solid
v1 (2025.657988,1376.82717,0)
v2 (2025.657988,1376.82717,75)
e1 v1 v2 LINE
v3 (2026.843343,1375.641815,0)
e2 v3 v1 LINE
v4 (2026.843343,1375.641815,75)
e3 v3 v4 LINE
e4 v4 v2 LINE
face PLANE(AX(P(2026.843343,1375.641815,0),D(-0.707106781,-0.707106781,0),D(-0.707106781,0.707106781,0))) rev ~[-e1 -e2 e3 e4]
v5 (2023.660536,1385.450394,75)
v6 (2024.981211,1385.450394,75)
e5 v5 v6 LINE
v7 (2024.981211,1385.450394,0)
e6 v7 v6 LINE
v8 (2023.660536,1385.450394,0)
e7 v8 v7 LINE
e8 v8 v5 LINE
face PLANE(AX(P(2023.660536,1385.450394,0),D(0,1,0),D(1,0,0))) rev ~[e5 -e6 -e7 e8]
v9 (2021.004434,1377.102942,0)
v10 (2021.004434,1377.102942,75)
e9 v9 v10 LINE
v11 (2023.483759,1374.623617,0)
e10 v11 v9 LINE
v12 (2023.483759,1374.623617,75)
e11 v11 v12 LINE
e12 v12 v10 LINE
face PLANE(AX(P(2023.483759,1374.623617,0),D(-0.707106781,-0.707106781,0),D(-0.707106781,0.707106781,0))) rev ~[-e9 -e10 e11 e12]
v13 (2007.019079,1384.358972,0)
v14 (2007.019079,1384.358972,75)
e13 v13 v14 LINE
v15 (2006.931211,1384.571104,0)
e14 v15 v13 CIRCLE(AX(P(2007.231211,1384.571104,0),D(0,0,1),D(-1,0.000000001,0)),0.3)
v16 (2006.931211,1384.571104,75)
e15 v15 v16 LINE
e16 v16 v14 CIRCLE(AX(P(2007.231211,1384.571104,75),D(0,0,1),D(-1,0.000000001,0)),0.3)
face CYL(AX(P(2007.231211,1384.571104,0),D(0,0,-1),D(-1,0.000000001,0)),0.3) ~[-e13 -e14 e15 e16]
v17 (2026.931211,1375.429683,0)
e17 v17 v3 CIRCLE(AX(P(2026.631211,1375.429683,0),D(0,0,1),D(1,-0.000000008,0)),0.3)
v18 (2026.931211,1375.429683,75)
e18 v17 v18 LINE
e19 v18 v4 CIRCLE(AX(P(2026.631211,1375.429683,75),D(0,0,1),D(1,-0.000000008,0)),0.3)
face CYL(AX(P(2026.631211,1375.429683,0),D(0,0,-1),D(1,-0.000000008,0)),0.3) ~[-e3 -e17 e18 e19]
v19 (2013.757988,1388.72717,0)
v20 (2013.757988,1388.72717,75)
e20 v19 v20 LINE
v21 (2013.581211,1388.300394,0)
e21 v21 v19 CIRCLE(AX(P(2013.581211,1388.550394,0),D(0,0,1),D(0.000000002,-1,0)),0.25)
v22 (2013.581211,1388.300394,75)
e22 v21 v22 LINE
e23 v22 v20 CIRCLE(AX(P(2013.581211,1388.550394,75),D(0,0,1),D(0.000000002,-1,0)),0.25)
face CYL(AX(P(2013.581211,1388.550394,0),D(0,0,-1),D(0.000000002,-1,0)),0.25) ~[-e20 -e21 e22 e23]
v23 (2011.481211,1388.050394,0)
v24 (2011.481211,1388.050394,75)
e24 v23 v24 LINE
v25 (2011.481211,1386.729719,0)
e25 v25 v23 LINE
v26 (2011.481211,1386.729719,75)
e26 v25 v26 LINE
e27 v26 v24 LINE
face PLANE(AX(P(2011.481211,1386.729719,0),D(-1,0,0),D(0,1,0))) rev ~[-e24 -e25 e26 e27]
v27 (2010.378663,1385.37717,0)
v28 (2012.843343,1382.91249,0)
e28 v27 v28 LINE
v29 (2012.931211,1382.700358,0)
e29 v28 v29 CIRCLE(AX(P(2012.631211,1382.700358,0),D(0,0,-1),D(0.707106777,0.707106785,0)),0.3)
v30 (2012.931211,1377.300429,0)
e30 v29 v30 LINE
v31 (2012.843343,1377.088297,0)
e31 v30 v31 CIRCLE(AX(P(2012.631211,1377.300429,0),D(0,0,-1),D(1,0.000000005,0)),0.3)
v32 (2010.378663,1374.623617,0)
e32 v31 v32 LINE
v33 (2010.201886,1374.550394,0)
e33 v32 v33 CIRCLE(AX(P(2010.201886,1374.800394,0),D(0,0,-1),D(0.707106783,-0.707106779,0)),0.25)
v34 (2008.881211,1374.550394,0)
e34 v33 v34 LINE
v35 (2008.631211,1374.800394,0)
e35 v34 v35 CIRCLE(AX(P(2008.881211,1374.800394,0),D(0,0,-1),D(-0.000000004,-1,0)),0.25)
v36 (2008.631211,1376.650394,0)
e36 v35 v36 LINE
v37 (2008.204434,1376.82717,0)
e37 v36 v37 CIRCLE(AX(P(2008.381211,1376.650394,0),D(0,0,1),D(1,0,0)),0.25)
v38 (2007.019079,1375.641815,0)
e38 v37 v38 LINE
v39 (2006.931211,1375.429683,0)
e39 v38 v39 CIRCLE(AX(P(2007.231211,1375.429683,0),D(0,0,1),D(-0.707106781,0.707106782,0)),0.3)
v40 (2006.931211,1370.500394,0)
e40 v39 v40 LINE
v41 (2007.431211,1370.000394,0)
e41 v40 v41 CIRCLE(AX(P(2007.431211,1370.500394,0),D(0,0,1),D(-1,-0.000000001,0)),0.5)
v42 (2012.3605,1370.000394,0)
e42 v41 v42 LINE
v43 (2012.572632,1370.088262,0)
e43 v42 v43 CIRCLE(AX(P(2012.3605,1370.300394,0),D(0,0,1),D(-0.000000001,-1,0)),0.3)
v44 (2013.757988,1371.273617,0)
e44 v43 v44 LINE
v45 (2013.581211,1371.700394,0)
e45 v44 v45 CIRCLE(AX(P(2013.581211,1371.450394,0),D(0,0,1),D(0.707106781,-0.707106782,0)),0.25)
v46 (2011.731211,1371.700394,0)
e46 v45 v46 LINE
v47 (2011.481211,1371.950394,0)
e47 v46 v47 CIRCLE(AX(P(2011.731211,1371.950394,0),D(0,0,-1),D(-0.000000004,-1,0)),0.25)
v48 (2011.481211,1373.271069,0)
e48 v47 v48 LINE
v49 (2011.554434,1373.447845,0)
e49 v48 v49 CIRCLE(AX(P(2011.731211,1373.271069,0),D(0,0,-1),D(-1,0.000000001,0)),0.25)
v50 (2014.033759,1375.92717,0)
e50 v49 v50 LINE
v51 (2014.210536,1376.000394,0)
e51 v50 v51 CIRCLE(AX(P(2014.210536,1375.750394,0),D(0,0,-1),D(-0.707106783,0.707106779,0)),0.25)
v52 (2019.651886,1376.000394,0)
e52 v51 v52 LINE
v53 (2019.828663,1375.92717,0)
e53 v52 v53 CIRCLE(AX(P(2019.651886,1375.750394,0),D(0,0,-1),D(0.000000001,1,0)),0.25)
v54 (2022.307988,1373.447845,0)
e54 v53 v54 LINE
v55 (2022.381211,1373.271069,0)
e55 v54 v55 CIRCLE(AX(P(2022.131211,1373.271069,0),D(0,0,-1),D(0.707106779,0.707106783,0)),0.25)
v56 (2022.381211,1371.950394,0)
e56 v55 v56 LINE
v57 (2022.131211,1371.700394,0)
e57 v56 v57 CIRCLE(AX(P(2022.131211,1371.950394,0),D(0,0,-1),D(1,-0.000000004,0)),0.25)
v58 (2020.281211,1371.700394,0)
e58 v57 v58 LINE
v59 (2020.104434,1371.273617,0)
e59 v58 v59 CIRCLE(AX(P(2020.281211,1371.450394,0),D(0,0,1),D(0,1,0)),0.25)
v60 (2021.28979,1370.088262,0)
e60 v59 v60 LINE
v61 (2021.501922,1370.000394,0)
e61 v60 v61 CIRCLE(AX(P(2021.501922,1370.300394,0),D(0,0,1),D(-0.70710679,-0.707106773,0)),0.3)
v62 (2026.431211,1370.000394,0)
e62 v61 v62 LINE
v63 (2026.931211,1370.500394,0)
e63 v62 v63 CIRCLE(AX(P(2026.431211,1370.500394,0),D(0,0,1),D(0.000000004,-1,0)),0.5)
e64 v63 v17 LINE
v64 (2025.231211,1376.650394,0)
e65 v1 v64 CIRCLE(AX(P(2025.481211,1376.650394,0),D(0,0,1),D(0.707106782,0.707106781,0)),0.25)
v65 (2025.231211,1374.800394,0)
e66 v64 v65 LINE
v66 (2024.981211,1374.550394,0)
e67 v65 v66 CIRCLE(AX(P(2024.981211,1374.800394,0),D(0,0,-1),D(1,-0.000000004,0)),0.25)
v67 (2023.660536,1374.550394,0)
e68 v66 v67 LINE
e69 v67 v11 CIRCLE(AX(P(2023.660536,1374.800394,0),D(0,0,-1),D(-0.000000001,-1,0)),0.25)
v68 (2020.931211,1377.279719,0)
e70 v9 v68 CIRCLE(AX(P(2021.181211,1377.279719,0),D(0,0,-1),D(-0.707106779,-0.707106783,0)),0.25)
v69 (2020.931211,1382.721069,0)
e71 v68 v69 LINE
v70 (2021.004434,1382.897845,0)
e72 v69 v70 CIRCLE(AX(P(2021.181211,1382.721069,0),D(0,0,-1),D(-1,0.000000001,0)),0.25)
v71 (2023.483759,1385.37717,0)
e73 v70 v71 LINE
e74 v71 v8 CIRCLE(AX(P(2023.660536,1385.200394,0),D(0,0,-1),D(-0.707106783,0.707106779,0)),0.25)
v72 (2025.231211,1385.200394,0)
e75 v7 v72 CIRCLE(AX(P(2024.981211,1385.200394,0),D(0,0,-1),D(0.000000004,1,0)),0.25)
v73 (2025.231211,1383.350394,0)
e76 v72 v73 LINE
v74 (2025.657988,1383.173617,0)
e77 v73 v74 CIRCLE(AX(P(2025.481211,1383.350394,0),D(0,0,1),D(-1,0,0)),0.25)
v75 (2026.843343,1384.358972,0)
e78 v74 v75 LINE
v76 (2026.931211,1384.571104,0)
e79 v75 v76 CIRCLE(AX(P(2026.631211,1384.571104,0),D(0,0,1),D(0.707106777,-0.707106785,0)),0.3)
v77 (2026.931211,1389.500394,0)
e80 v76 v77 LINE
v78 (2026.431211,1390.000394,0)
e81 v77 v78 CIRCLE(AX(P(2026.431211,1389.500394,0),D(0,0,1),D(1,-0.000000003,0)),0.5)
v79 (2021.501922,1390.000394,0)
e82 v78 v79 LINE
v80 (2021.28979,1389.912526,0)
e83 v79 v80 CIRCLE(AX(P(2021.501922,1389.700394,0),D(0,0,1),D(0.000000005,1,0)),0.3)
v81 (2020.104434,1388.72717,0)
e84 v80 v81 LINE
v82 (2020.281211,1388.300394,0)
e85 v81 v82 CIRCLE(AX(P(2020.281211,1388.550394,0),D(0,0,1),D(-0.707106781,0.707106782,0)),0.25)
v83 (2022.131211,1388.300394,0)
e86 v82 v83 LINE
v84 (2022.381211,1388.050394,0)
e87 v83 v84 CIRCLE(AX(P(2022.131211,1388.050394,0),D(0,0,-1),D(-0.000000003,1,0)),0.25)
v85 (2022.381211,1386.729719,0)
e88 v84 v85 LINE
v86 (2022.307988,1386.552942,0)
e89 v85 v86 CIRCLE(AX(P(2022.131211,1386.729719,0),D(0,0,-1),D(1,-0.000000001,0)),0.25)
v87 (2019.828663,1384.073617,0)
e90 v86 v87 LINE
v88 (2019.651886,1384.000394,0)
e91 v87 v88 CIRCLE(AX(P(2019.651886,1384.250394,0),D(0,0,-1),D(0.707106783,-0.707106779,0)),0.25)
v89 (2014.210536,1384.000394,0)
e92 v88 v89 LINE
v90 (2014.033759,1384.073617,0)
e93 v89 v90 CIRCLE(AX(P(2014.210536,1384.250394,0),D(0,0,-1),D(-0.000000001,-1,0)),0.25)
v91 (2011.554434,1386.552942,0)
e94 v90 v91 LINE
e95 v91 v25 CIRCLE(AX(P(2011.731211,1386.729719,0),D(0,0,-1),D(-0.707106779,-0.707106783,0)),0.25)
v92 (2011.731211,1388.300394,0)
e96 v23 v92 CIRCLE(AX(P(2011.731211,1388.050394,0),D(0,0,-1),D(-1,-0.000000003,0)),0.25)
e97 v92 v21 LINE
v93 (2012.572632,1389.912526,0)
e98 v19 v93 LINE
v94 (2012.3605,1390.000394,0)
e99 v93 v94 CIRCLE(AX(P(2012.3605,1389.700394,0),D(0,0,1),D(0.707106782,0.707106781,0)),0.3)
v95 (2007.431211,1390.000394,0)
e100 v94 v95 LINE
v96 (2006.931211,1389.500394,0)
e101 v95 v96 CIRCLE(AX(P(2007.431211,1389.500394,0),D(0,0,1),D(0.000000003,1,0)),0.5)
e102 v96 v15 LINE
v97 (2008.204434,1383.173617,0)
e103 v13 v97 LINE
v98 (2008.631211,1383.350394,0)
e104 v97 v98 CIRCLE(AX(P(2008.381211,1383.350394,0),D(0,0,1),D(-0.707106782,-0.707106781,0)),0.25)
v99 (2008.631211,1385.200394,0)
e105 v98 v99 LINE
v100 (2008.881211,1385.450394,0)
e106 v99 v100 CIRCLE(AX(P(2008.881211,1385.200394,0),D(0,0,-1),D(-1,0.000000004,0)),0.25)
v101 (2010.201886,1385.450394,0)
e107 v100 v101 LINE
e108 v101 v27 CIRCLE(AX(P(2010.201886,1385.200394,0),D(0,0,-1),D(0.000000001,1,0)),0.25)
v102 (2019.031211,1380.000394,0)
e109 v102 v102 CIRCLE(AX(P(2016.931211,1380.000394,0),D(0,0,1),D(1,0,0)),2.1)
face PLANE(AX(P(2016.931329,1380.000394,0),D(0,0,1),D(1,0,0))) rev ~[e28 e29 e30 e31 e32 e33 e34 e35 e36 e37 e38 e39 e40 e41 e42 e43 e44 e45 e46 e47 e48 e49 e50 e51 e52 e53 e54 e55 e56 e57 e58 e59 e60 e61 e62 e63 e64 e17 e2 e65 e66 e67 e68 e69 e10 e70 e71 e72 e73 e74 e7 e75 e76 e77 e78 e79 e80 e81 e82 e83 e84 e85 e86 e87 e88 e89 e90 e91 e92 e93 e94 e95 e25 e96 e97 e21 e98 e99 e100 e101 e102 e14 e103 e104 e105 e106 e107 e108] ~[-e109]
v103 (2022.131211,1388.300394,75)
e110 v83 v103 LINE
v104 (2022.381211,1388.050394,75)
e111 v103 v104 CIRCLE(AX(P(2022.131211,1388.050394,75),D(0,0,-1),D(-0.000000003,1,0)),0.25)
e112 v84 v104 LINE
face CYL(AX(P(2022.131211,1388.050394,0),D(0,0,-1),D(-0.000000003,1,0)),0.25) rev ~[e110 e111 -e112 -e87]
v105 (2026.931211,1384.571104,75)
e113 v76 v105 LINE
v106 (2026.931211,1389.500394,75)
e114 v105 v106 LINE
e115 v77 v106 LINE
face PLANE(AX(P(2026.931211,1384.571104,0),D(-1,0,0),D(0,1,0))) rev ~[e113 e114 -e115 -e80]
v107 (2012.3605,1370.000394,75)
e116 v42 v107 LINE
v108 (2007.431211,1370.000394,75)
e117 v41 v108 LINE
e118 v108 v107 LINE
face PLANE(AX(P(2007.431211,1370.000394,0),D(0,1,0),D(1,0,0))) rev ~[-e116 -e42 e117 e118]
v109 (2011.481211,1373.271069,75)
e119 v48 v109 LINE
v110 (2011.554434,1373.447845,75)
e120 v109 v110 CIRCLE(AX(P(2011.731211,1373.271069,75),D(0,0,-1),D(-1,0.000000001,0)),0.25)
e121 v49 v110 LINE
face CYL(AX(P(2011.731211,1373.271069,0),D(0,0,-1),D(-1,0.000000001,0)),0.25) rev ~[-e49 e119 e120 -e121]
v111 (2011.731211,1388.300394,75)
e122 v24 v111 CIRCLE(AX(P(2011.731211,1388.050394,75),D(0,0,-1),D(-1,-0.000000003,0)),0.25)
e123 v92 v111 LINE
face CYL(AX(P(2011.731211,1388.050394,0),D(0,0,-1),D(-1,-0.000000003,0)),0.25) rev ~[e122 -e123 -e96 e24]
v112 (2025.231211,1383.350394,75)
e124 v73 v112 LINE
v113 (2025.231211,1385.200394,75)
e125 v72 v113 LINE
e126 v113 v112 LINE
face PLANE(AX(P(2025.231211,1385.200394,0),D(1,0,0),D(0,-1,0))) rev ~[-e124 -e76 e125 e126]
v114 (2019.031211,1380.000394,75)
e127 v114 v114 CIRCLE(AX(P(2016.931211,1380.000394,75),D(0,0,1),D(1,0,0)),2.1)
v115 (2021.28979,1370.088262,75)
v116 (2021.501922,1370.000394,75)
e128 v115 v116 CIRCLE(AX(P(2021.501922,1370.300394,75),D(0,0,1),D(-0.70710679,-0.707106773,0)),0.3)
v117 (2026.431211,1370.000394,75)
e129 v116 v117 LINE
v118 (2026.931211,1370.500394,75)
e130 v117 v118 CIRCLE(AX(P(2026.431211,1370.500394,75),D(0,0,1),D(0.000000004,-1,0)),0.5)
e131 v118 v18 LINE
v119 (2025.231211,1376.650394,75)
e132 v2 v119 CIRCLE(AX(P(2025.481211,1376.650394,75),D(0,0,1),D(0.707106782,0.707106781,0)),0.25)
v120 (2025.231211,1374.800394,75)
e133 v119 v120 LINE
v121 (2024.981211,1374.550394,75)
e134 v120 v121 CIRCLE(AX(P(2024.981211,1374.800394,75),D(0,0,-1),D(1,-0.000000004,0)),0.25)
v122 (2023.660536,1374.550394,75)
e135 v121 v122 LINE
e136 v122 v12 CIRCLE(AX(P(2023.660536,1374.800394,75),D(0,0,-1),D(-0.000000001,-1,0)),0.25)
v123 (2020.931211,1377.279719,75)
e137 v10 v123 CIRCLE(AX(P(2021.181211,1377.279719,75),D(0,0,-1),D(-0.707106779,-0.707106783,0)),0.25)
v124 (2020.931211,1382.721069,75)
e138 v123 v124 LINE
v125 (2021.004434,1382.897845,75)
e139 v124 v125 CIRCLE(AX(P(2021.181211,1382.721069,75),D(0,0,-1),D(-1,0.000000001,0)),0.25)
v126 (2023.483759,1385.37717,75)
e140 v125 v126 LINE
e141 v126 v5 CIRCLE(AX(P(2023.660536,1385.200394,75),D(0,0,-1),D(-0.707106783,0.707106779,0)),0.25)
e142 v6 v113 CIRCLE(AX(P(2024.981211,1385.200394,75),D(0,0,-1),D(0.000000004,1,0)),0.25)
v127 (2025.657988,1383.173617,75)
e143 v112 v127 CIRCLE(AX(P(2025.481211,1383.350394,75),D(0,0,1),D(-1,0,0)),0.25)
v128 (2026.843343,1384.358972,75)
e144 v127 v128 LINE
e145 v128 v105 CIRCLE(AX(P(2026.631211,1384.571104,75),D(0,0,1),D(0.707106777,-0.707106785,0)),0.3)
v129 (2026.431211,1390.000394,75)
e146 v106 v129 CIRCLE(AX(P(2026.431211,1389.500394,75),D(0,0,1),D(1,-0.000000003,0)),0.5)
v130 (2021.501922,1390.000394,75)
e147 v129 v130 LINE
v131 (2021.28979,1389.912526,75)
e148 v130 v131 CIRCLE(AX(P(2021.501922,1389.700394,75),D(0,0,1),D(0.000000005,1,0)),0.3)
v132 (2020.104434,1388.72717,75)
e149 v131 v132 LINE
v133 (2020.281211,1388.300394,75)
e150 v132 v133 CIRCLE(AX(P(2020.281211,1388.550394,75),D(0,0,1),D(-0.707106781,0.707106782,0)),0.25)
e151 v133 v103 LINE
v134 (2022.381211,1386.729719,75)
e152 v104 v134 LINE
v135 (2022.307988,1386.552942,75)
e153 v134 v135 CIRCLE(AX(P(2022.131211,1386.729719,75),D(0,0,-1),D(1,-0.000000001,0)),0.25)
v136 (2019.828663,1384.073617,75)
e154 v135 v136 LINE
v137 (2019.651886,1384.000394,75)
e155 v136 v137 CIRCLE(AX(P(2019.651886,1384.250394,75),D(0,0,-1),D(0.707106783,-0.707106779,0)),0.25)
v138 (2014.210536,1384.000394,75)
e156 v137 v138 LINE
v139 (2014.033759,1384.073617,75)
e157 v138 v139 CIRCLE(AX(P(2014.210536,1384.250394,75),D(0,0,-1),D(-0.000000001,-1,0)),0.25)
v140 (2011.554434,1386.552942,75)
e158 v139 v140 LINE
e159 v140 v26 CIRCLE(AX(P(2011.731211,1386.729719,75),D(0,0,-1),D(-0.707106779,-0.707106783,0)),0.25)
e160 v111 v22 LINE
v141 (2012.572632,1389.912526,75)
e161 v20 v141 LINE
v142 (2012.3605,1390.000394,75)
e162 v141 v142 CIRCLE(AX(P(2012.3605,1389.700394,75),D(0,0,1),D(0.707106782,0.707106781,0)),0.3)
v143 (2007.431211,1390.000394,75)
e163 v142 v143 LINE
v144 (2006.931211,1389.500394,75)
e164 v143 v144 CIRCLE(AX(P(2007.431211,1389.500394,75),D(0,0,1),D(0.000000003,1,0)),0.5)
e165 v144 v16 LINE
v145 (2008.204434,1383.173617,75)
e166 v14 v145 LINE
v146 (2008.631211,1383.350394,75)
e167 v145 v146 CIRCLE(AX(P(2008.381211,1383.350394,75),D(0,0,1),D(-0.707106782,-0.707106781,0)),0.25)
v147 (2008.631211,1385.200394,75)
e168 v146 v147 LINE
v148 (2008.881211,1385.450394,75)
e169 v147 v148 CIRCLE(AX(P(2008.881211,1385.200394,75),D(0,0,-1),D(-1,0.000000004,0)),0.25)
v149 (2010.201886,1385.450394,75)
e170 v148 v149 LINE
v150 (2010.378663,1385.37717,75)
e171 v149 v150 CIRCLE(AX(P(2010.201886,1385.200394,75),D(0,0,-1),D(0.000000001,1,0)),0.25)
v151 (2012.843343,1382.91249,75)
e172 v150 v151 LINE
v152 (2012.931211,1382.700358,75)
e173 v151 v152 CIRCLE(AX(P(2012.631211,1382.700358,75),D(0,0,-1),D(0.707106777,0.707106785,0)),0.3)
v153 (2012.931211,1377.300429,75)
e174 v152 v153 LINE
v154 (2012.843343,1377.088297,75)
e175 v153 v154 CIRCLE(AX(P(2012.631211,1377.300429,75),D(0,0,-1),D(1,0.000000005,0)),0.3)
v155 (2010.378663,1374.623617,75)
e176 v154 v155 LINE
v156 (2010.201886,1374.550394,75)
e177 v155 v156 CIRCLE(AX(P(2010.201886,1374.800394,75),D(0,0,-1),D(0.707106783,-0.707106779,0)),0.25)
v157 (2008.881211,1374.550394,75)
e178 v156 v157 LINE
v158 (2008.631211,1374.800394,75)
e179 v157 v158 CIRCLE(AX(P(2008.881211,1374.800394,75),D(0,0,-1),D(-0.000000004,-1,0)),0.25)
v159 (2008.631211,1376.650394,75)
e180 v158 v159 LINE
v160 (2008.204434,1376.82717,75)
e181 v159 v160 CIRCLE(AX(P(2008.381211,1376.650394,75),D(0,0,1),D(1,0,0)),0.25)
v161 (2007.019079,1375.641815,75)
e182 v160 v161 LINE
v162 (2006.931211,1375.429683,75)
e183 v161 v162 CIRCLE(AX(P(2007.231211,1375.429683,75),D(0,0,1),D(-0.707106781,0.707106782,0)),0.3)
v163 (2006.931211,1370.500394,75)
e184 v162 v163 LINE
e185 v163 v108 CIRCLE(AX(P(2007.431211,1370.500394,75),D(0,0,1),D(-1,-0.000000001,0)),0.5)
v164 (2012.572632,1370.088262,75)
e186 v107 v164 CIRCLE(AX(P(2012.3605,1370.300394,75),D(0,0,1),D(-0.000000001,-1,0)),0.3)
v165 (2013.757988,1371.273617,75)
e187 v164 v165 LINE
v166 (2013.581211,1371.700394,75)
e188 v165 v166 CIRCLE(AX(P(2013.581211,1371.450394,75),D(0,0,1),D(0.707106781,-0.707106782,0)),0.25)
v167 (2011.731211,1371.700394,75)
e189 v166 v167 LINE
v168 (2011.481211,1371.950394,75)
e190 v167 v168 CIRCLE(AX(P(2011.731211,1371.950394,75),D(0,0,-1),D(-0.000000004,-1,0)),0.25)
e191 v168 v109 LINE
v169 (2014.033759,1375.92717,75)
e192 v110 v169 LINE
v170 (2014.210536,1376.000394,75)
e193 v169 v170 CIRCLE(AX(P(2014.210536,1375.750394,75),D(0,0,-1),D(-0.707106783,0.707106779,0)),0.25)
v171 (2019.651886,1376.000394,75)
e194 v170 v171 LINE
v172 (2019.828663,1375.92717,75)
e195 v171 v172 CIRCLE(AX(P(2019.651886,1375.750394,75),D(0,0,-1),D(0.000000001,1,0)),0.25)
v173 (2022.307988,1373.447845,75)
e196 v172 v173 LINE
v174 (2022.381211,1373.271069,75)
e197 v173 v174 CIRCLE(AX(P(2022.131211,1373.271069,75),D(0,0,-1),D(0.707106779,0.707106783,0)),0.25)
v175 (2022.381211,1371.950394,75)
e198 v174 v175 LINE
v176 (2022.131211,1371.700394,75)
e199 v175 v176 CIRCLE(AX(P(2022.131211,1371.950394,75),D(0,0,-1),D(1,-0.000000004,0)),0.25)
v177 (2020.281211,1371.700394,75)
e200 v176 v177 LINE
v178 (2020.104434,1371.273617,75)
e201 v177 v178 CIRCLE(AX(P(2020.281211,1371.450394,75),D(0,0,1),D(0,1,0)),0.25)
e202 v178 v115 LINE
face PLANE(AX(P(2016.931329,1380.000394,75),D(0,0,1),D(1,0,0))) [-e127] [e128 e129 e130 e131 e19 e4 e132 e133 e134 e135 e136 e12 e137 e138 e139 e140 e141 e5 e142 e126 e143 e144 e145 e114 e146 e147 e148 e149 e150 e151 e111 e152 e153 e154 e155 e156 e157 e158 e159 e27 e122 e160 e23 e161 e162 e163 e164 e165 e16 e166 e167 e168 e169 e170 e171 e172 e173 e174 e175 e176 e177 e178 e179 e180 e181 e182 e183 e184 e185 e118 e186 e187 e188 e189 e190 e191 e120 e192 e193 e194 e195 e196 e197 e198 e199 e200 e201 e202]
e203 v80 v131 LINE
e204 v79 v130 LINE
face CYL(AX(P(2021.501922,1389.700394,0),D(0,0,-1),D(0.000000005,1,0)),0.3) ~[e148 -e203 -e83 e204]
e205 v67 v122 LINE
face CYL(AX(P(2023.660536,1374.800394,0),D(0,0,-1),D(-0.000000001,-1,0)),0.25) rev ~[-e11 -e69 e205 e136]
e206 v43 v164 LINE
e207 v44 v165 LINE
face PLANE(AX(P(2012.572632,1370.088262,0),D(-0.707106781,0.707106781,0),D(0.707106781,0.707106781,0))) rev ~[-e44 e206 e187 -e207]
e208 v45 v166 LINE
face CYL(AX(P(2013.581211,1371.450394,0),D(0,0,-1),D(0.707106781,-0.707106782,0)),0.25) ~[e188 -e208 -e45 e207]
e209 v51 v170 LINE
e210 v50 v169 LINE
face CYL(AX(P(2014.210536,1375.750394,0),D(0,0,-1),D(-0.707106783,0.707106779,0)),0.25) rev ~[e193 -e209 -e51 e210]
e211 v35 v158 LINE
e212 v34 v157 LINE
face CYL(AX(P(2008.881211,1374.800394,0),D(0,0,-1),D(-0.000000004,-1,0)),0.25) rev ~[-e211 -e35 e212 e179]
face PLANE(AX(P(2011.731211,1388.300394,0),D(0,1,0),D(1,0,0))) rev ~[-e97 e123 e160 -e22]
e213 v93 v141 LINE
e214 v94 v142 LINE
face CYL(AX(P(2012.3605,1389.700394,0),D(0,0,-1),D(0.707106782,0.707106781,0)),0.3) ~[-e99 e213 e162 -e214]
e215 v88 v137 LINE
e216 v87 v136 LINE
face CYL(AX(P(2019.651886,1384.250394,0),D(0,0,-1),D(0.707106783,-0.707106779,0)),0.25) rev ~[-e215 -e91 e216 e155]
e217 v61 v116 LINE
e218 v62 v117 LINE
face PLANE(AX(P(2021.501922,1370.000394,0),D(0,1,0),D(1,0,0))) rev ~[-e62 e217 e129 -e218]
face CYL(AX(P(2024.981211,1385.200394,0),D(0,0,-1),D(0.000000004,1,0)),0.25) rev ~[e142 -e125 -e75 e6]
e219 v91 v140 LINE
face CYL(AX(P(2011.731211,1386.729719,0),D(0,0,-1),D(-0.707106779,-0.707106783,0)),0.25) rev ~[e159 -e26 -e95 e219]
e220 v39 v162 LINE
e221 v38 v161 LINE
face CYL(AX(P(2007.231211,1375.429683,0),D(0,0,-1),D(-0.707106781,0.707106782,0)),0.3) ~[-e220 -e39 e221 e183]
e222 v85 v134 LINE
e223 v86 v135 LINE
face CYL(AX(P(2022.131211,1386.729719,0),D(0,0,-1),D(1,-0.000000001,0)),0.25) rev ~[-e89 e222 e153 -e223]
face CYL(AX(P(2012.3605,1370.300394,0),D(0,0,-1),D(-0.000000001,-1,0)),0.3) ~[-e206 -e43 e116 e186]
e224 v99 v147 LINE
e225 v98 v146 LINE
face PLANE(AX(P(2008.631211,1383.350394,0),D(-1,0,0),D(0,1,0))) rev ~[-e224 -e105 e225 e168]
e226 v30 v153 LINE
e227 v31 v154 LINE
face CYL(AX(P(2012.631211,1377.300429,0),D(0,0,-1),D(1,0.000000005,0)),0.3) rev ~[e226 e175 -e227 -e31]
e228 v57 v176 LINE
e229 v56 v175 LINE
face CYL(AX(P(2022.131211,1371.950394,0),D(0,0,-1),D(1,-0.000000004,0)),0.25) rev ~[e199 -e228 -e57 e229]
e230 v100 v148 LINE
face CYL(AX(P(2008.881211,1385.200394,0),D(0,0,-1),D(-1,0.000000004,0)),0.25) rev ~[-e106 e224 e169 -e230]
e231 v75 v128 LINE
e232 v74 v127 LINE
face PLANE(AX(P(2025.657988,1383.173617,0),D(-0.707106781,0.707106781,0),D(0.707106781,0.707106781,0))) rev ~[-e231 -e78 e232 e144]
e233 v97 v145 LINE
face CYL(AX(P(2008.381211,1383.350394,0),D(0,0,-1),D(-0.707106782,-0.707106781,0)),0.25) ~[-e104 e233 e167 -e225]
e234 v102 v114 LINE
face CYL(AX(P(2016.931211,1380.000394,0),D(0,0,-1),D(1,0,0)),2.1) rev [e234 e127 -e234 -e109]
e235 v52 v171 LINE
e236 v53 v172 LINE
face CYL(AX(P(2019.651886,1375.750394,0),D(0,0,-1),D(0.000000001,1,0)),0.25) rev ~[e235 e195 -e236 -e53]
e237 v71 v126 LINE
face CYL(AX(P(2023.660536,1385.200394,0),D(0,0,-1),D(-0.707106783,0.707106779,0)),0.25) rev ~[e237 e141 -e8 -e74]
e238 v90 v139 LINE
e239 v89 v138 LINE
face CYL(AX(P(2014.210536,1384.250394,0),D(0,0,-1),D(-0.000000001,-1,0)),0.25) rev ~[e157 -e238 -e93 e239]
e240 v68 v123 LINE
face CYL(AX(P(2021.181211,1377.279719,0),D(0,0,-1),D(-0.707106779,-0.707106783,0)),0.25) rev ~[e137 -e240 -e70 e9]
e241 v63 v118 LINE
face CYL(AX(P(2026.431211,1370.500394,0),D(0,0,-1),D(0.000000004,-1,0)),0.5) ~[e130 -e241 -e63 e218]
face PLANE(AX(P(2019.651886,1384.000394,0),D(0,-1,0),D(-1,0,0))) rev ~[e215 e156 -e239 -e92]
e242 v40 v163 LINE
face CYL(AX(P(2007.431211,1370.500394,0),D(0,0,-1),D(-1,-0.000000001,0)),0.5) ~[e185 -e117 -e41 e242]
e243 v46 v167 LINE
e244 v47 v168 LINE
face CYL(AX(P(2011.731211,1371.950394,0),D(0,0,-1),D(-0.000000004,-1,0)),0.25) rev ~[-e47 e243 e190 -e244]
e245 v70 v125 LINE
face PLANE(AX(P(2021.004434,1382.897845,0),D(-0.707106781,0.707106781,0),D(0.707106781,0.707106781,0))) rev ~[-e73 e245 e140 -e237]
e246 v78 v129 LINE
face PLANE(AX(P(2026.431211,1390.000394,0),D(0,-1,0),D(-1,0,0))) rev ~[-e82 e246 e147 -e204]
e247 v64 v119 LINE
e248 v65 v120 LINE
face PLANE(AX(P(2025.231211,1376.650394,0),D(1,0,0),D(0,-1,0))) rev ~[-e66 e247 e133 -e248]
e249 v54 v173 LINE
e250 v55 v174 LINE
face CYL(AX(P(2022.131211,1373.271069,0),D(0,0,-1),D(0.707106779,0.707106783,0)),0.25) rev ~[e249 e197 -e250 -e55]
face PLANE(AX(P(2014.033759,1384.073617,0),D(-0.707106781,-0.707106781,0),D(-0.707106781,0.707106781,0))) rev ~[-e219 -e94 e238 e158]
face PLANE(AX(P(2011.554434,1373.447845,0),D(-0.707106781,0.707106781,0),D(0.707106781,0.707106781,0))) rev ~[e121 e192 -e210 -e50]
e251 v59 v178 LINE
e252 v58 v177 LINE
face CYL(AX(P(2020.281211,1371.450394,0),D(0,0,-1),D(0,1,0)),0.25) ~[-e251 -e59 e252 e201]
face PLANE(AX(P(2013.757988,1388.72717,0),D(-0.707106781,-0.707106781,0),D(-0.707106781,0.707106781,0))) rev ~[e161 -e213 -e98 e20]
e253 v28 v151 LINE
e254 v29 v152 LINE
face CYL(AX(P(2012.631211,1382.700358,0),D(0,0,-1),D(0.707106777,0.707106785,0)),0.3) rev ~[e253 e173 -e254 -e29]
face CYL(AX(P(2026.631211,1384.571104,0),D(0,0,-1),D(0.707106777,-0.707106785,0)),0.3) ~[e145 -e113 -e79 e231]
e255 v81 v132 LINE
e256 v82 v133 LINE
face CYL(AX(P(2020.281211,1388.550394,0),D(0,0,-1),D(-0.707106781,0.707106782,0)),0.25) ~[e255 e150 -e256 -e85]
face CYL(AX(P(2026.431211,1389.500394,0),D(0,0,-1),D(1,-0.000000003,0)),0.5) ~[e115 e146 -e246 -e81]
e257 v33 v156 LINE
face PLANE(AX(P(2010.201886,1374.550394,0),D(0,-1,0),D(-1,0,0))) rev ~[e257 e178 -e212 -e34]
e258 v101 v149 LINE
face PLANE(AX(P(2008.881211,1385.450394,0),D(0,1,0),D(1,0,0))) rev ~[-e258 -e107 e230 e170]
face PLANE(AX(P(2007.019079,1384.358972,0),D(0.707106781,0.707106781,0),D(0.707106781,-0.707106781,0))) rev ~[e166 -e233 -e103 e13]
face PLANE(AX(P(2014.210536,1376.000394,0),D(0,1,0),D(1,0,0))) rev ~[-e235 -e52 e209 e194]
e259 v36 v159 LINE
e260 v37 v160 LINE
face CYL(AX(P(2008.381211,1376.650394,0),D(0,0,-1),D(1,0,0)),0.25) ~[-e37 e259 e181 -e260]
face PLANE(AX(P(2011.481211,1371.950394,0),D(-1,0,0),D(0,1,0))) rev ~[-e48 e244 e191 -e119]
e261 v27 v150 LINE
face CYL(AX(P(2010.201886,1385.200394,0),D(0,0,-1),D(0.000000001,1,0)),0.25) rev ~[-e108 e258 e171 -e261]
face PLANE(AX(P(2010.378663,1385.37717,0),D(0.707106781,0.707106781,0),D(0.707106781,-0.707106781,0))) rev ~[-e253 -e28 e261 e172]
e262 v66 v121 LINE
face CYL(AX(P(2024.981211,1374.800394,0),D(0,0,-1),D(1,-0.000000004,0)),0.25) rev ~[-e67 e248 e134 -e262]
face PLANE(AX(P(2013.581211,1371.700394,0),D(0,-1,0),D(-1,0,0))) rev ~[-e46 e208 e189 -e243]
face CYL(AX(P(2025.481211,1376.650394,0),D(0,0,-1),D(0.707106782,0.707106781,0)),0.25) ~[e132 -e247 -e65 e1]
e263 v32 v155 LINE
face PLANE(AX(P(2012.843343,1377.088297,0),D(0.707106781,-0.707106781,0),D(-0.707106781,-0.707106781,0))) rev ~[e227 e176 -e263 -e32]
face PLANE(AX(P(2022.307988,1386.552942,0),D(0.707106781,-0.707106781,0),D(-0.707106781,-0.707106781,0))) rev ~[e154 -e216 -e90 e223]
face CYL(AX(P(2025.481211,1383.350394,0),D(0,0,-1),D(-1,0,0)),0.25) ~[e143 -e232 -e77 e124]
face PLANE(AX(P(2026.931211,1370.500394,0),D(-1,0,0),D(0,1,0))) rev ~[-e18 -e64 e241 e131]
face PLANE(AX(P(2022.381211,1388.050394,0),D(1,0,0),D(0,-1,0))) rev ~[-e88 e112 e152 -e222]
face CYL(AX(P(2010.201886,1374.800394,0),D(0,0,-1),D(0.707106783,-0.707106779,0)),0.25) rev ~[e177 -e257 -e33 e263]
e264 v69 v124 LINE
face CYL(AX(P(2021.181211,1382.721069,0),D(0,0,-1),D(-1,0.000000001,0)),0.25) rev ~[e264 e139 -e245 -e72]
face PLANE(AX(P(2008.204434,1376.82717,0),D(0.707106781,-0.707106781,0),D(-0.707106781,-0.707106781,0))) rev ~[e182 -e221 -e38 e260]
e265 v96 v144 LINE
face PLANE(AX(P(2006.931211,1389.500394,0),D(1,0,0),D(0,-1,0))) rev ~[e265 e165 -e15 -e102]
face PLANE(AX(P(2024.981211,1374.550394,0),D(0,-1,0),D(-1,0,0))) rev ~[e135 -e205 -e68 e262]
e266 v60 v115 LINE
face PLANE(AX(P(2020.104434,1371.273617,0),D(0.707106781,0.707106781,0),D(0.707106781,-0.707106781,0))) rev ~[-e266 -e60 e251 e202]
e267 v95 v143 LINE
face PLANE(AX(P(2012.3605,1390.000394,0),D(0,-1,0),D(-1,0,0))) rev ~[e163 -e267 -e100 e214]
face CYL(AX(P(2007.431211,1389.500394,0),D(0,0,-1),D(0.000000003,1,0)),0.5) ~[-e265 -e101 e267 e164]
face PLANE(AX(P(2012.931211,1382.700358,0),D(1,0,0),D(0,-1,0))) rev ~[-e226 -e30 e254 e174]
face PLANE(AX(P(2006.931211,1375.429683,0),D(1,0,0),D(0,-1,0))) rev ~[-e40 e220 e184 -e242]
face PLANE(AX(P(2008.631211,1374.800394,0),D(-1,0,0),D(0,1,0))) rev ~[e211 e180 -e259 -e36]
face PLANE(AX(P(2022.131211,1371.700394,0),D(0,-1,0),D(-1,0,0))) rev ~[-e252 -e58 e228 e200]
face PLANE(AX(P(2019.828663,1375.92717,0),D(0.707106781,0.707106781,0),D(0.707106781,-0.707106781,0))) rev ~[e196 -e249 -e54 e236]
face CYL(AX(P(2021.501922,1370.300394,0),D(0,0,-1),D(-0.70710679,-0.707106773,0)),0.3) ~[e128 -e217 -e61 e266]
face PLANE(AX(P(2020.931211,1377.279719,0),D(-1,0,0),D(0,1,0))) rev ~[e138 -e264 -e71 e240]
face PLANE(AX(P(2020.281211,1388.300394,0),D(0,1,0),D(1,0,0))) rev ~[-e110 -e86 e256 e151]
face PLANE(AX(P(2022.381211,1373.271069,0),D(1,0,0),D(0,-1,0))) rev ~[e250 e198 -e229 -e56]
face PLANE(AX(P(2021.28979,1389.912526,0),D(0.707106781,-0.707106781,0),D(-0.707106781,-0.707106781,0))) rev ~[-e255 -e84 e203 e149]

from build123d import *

# Parameters (mm, degrees)
MODEL_R             = 2.1
BOSS_EXTRUDE1_DEPTH = 75


with BuildPart() as part:
    # Model → Boss-Extrude1 (new body)
    with BuildSketch(Plane.XY):
        with BuildLine():
            Line((2012.931211125, 1381.800393717), (2012.931211125, 1378.200393717))
            Line((2012.931211125, 1378.200393717), (2012.931211125, 1377.300429431))
            ThreePointArc((2012.931211125, 1377.300429431), (2012.908374985, 1377.185624401), (2012.843343159, 1377.088297396))
            Line((2012.843343159, 1377.088297396), (2010.378662785, 1374.623617022))
            ThreePointArc((2010.378662785, 1374.623617022), (2010.297556948, 1374.569423834), (2010.20188609, 1374.550393717))
            Line((2010.20188609, 1374.550393717), (2008.881211125, 1374.550393717))
            ThreePointArc((2008.881211125, 1374.550393717), (2008.70443443, 1374.623617022), (2008.631211125, 1374.800393717))
            Line((2008.631211125, 1374.800393717), (2008.631211125, 1376.650393717))
            ThreePointArc((2008.631211125, 1376.650393717), (2008.476881983, 1376.8813636), (2008.20443443, 1376.827170412))
            Line((2008.20443443, 1376.827170412), (2007.01907909, 1375.641815073))
            ThreePointArc((2007.01907909, 1375.641815073), (2006.954047265, 1375.544488069), (2006.931211125, 1375.429683039))
            Line((2006.931211125, 1375.429683039), (2006.931211125, 1370.500393717))
            ThreePointArc((2006.931211125, 1370.500393717), (2007.077657734, 1370.146840327), (2007.431211125, 1370.000393717))
            Line((2007.431211125, 1370.000393717), (2012.360500447, 1370.000393717))
            ThreePointArc((2012.360500447, 1370.000393717), (2012.475305476, 1370.023229857), (2012.572632481, 1370.088261683))
            Line((2012.572632481, 1370.088261683), (2013.75798782, 1371.273617022))
            ThreePointArc((2013.75798782, 1371.273617022), (2013.812181008, 1371.546064575), (2013.581211125, 1371.700393717))
            Line((2013.581211125, 1371.700393717), (2011.731211125, 1371.700393717))
            ThreePointArc((2011.731211125, 1371.700393717), (2011.55443443, 1371.773617022), (2011.481211125, 1371.950393717))
            Line((2011.481211125, 1371.950393717), (2011.481211125, 1373.271068682))
            ThreePointArc((2011.481211125, 1373.271068682), (2011.500241242, 1373.36673954), (2011.55443443, 1373.447845377))
            Line((2011.55443443, 1373.447845377), (2014.033759465, 1375.927170412))
            ThreePointArc((2014.033759465, 1375.927170412), (2014.114865302, 1375.9813636), (2014.21053616, 1376.000393717))
            Line((2014.21053616, 1376.000393717), (2016.470233902, 1376.000393717))
            Line((2016.470233902, 1376.000393717), (2017.392188348, 1376.000393717))
            Line((2017.392188348, 1376.000393717), (2019.65188609, 1376.000393717))
            ThreePointArc((2019.65188609, 1376.000393717), (2019.747556948, 1375.9813636), (2019.828662785, 1375.927170412))
            Line((2019.828662785, 1375.927170412), (2022.30798782, 1373.447845377))
            ThreePointArc((2022.30798782, 1373.447845377), (2022.362181008, 1373.36673954), (2022.381211125, 1373.271068682))
            Line((2022.381211125, 1373.271068682), (2022.381211125, 1371.950393717))
            ThreePointArc((2022.381211125, 1371.950393717), (2022.30798782, 1371.773617022), (2022.131211125, 1371.700393717))
            Line((2022.131211125, 1371.700393717), (2020.281211125, 1371.700393717))
            ThreePointArc((2020.281211125, 1371.700393717), (2020.050241242, 1371.546064575), (2020.10443443, 1371.273617022))
            Line((2020.10443443, 1371.273617022), (2021.289789769, 1370.088261683))
            ThreePointArc((2021.289789769, 1370.088261683), (2021.387116773, 1370.023229857), (2021.501921803, 1370.000393717))
            Line((2021.501921803, 1370.000393717), (2026.431211125, 1370.000393717))
            ThreePointArc((2026.431211125, 1370.000393717), (2026.784764515, 1370.146840327), (2026.931211125, 1370.500393717))
            Line((2026.931211125, 1370.500393717), (2026.931211125, 1375.429683039))
            ThreePointArc((2026.931211125, 1375.429683039), (2026.908374985, 1375.544488069), (2026.843343159, 1375.641815073))
            Line((2026.843343159, 1375.641815073), (2025.65798782, 1376.827170412))
            ThreePointArc((2025.65798782, 1376.827170412), (2025.385540267, 1376.8813636), (2025.231211125, 1376.650393717))
            Line((2025.231211125, 1376.650393717), (2025.231211125, 1374.800393717))
            ThreePointArc((2025.231211125, 1374.800393717), (2025.15798782, 1374.623617022), (2024.981211125, 1374.550393717))
            Line((2024.981211125, 1374.550393717), (2023.66053616, 1374.550393717))
            ThreePointArc((2023.66053616, 1374.550393717), (2023.564865302, 1374.569423834), (2023.483759465, 1374.623617022))
            Line((2023.483759465, 1374.623617022), (2021.00443443, 1377.102942057))
            ThreePointArc((2021.00443443, 1377.102942057), (2020.950241242, 1377.184047894), (2020.931211125, 1377.279718752))
            Line((2020.931211125, 1377.279718752), (2020.931211125, 1379.539416494))
            Line((2020.931211125, 1379.539416494), (2020.931211125, 1380.46137094))
            Line((2020.931211125, 1380.46137094), (2020.931211125, 1382.721068682))
            ThreePointArc((2020.931211125, 1382.721068682), (2020.950241242, 1382.81673954), (2021.00443443, 1382.897845377))
            Line((2021.00443443, 1382.897845377), (2023.483759465, 1385.377170412))
            ThreePointArc((2023.483759465, 1385.377170412), (2023.564865302, 1385.4313636), (2023.66053616, 1385.450393717))
            Line((2023.66053616, 1385.450393717), (2024.981211125, 1385.450393717))
            ThreePointArc((2024.981211125, 1385.450393717), (2025.15798782, 1385.377170412), (2025.231211125, 1385.200393717))
            Line((2025.231211125, 1385.200393717), (2025.231211125, 1383.350393717))
            ThreePointArc((2025.231211125, 1383.350393717), (2025.385540267, 1383.119423834), (2025.65798782, 1383.173617022))
            Line((2025.65798782, 1383.173617022), (2026.843343159, 1384.358972361))
            ThreePointArc((2026.843343159, 1384.358972361), (2026.908374985, 1384.456299366), (2026.931211125, 1384.571104395))
            Line((2026.931211125, 1384.571104395), (2026.931211125, 1389.500393717))
            ThreePointArc((2026.931211125, 1389.500393717), (2026.784764516, 1389.853947108), (2026.431211125, 1390.000393717))
            Line((2026.431211125, 1390.000393717), (2021.501921803, 1390.000393717))
            ThreePointArc((2021.501921803, 1390.000393717), (2021.387116773, 1389.977557577), (2021.289789769, 1389.912525752))
            Line((2021.289789769, 1389.912525752), (2020.10443443, 1388.727170413))
            ThreePointArc((2020.10443443, 1388.727170413), (2020.050241242, 1388.454722859), (2020.281211125, 1388.300393717))
            Line((2020.281211125, 1388.300393717), (2022.131211125, 1388.300393717))
            ThreePointArc((2022.131211125, 1388.300393717), (2022.30798782, 1388.227170413), (2022.381211125, 1388.050393717))
            Line((2022.381211125, 1388.050393717), (2022.381211125, 1386.729718752))
            ThreePointArc((2022.381211125, 1386.729718752), (2022.362181008, 1386.634047894), (2022.30798782, 1386.552942057))
            Line((2022.30798782, 1386.552942057), (2019.828662785, 1384.073617022))
            ThreePointArc((2019.828662785, 1384.073617022), (2019.747556948, 1384.019423834), (2019.65188609, 1384.000393717))
            Line((2019.65188609, 1384.000393717), (2017.392188348, 1384.000393717))
            Line((2017.392188348, 1384.000393717), (2016.470233902, 1384.000393717))
            Line((2016.470233902, 1384.000393717), (2014.21053616, 1384.000393717))
            ThreePointArc((2014.21053616, 1384.000393717), (2014.114865302, 1384.019423834), (2014.033759465, 1384.073617022))
            Line((2014.033759465, 1384.073617022), (2011.55443443, 1386.552942057))
            ThreePointArc((2011.55443443, 1386.552942057), (2011.500241242, 1386.634047894), (2011.481211125, 1386.729718752))
            Line((2011.481211125, 1386.729718752), (2011.481211125, 1388.050393717))
            ThreePointArc((2011.481211125, 1388.050393717), (2011.55443443, 1388.227170413), (2011.731211125, 1388.300393717))
            Line((2011.731211125, 1388.300393717), (2013.581211125, 1388.300393717))
            ThreePointArc((2013.581211125, 1388.300393717), (2013.812181008, 1388.454722859), (2013.75798782, 1388.727170413))
            Line((2013.75798782, 1388.727170413), (2012.572632481, 1389.912525752))
            ThreePointArc((2012.572632481, 1389.912525752), (2012.475305477, 1389.977557577), (2012.360500447, 1390.000393717))
            Line((2012.360500447, 1390.000393717), (2007.431211125, 1390.000393717))
            ThreePointArc((2007.431211125, 1390.000393717), (2007.077657734, 1389.853947108), (2006.931211125, 1389.500393717))
            Line((2006.931211125, 1389.500393717), (2006.931211125, 1384.571104395))
            ThreePointArc((2006.931211125, 1384.571104395), (2006.954047265, 1384.456299366), (2007.019079091, 1384.358972361))
            Line((2007.019079091, 1384.358972361), (2008.20443443, 1383.173617022))
            ThreePointArc((2008.20443443, 1383.173617022), (2008.476881983, 1383.119423834), (2008.631211125, 1383.350393717))
            Line((2008.631211125, 1383.350393717), (2008.631211125, 1385.200393717))
            ThreePointArc((2008.631211125, 1385.200393717), (2008.70443443, 1385.377170412), (2008.881211125, 1385.450393717))
            Line((2008.881211125, 1385.450393717), (2010.20188609, 1385.450393717))
            ThreePointArc((2010.20188609, 1385.450393717), (2010.297556948, 1385.4313636), (2010.378662785, 1385.377170412))
            Line((2010.378662785, 1385.377170412), (2012.843343159, 1382.912490038))
            ThreePointArc((2012.843343159, 1382.912490038), (2012.908374985, 1382.815163033), (2012.931211125, 1382.700358004))
            Line((2012.931211125, 1382.700358004), (2012.931211125, 1381.800393717))
        make_face()
        with Locations((2016.931211125, 1380.000393717)):
            Circle(MODEL_R, mode=Mode.SUBTRACT)
    extrude(amount=BOSS_EXTRUDE1_DEPTH)


solid = part.part
